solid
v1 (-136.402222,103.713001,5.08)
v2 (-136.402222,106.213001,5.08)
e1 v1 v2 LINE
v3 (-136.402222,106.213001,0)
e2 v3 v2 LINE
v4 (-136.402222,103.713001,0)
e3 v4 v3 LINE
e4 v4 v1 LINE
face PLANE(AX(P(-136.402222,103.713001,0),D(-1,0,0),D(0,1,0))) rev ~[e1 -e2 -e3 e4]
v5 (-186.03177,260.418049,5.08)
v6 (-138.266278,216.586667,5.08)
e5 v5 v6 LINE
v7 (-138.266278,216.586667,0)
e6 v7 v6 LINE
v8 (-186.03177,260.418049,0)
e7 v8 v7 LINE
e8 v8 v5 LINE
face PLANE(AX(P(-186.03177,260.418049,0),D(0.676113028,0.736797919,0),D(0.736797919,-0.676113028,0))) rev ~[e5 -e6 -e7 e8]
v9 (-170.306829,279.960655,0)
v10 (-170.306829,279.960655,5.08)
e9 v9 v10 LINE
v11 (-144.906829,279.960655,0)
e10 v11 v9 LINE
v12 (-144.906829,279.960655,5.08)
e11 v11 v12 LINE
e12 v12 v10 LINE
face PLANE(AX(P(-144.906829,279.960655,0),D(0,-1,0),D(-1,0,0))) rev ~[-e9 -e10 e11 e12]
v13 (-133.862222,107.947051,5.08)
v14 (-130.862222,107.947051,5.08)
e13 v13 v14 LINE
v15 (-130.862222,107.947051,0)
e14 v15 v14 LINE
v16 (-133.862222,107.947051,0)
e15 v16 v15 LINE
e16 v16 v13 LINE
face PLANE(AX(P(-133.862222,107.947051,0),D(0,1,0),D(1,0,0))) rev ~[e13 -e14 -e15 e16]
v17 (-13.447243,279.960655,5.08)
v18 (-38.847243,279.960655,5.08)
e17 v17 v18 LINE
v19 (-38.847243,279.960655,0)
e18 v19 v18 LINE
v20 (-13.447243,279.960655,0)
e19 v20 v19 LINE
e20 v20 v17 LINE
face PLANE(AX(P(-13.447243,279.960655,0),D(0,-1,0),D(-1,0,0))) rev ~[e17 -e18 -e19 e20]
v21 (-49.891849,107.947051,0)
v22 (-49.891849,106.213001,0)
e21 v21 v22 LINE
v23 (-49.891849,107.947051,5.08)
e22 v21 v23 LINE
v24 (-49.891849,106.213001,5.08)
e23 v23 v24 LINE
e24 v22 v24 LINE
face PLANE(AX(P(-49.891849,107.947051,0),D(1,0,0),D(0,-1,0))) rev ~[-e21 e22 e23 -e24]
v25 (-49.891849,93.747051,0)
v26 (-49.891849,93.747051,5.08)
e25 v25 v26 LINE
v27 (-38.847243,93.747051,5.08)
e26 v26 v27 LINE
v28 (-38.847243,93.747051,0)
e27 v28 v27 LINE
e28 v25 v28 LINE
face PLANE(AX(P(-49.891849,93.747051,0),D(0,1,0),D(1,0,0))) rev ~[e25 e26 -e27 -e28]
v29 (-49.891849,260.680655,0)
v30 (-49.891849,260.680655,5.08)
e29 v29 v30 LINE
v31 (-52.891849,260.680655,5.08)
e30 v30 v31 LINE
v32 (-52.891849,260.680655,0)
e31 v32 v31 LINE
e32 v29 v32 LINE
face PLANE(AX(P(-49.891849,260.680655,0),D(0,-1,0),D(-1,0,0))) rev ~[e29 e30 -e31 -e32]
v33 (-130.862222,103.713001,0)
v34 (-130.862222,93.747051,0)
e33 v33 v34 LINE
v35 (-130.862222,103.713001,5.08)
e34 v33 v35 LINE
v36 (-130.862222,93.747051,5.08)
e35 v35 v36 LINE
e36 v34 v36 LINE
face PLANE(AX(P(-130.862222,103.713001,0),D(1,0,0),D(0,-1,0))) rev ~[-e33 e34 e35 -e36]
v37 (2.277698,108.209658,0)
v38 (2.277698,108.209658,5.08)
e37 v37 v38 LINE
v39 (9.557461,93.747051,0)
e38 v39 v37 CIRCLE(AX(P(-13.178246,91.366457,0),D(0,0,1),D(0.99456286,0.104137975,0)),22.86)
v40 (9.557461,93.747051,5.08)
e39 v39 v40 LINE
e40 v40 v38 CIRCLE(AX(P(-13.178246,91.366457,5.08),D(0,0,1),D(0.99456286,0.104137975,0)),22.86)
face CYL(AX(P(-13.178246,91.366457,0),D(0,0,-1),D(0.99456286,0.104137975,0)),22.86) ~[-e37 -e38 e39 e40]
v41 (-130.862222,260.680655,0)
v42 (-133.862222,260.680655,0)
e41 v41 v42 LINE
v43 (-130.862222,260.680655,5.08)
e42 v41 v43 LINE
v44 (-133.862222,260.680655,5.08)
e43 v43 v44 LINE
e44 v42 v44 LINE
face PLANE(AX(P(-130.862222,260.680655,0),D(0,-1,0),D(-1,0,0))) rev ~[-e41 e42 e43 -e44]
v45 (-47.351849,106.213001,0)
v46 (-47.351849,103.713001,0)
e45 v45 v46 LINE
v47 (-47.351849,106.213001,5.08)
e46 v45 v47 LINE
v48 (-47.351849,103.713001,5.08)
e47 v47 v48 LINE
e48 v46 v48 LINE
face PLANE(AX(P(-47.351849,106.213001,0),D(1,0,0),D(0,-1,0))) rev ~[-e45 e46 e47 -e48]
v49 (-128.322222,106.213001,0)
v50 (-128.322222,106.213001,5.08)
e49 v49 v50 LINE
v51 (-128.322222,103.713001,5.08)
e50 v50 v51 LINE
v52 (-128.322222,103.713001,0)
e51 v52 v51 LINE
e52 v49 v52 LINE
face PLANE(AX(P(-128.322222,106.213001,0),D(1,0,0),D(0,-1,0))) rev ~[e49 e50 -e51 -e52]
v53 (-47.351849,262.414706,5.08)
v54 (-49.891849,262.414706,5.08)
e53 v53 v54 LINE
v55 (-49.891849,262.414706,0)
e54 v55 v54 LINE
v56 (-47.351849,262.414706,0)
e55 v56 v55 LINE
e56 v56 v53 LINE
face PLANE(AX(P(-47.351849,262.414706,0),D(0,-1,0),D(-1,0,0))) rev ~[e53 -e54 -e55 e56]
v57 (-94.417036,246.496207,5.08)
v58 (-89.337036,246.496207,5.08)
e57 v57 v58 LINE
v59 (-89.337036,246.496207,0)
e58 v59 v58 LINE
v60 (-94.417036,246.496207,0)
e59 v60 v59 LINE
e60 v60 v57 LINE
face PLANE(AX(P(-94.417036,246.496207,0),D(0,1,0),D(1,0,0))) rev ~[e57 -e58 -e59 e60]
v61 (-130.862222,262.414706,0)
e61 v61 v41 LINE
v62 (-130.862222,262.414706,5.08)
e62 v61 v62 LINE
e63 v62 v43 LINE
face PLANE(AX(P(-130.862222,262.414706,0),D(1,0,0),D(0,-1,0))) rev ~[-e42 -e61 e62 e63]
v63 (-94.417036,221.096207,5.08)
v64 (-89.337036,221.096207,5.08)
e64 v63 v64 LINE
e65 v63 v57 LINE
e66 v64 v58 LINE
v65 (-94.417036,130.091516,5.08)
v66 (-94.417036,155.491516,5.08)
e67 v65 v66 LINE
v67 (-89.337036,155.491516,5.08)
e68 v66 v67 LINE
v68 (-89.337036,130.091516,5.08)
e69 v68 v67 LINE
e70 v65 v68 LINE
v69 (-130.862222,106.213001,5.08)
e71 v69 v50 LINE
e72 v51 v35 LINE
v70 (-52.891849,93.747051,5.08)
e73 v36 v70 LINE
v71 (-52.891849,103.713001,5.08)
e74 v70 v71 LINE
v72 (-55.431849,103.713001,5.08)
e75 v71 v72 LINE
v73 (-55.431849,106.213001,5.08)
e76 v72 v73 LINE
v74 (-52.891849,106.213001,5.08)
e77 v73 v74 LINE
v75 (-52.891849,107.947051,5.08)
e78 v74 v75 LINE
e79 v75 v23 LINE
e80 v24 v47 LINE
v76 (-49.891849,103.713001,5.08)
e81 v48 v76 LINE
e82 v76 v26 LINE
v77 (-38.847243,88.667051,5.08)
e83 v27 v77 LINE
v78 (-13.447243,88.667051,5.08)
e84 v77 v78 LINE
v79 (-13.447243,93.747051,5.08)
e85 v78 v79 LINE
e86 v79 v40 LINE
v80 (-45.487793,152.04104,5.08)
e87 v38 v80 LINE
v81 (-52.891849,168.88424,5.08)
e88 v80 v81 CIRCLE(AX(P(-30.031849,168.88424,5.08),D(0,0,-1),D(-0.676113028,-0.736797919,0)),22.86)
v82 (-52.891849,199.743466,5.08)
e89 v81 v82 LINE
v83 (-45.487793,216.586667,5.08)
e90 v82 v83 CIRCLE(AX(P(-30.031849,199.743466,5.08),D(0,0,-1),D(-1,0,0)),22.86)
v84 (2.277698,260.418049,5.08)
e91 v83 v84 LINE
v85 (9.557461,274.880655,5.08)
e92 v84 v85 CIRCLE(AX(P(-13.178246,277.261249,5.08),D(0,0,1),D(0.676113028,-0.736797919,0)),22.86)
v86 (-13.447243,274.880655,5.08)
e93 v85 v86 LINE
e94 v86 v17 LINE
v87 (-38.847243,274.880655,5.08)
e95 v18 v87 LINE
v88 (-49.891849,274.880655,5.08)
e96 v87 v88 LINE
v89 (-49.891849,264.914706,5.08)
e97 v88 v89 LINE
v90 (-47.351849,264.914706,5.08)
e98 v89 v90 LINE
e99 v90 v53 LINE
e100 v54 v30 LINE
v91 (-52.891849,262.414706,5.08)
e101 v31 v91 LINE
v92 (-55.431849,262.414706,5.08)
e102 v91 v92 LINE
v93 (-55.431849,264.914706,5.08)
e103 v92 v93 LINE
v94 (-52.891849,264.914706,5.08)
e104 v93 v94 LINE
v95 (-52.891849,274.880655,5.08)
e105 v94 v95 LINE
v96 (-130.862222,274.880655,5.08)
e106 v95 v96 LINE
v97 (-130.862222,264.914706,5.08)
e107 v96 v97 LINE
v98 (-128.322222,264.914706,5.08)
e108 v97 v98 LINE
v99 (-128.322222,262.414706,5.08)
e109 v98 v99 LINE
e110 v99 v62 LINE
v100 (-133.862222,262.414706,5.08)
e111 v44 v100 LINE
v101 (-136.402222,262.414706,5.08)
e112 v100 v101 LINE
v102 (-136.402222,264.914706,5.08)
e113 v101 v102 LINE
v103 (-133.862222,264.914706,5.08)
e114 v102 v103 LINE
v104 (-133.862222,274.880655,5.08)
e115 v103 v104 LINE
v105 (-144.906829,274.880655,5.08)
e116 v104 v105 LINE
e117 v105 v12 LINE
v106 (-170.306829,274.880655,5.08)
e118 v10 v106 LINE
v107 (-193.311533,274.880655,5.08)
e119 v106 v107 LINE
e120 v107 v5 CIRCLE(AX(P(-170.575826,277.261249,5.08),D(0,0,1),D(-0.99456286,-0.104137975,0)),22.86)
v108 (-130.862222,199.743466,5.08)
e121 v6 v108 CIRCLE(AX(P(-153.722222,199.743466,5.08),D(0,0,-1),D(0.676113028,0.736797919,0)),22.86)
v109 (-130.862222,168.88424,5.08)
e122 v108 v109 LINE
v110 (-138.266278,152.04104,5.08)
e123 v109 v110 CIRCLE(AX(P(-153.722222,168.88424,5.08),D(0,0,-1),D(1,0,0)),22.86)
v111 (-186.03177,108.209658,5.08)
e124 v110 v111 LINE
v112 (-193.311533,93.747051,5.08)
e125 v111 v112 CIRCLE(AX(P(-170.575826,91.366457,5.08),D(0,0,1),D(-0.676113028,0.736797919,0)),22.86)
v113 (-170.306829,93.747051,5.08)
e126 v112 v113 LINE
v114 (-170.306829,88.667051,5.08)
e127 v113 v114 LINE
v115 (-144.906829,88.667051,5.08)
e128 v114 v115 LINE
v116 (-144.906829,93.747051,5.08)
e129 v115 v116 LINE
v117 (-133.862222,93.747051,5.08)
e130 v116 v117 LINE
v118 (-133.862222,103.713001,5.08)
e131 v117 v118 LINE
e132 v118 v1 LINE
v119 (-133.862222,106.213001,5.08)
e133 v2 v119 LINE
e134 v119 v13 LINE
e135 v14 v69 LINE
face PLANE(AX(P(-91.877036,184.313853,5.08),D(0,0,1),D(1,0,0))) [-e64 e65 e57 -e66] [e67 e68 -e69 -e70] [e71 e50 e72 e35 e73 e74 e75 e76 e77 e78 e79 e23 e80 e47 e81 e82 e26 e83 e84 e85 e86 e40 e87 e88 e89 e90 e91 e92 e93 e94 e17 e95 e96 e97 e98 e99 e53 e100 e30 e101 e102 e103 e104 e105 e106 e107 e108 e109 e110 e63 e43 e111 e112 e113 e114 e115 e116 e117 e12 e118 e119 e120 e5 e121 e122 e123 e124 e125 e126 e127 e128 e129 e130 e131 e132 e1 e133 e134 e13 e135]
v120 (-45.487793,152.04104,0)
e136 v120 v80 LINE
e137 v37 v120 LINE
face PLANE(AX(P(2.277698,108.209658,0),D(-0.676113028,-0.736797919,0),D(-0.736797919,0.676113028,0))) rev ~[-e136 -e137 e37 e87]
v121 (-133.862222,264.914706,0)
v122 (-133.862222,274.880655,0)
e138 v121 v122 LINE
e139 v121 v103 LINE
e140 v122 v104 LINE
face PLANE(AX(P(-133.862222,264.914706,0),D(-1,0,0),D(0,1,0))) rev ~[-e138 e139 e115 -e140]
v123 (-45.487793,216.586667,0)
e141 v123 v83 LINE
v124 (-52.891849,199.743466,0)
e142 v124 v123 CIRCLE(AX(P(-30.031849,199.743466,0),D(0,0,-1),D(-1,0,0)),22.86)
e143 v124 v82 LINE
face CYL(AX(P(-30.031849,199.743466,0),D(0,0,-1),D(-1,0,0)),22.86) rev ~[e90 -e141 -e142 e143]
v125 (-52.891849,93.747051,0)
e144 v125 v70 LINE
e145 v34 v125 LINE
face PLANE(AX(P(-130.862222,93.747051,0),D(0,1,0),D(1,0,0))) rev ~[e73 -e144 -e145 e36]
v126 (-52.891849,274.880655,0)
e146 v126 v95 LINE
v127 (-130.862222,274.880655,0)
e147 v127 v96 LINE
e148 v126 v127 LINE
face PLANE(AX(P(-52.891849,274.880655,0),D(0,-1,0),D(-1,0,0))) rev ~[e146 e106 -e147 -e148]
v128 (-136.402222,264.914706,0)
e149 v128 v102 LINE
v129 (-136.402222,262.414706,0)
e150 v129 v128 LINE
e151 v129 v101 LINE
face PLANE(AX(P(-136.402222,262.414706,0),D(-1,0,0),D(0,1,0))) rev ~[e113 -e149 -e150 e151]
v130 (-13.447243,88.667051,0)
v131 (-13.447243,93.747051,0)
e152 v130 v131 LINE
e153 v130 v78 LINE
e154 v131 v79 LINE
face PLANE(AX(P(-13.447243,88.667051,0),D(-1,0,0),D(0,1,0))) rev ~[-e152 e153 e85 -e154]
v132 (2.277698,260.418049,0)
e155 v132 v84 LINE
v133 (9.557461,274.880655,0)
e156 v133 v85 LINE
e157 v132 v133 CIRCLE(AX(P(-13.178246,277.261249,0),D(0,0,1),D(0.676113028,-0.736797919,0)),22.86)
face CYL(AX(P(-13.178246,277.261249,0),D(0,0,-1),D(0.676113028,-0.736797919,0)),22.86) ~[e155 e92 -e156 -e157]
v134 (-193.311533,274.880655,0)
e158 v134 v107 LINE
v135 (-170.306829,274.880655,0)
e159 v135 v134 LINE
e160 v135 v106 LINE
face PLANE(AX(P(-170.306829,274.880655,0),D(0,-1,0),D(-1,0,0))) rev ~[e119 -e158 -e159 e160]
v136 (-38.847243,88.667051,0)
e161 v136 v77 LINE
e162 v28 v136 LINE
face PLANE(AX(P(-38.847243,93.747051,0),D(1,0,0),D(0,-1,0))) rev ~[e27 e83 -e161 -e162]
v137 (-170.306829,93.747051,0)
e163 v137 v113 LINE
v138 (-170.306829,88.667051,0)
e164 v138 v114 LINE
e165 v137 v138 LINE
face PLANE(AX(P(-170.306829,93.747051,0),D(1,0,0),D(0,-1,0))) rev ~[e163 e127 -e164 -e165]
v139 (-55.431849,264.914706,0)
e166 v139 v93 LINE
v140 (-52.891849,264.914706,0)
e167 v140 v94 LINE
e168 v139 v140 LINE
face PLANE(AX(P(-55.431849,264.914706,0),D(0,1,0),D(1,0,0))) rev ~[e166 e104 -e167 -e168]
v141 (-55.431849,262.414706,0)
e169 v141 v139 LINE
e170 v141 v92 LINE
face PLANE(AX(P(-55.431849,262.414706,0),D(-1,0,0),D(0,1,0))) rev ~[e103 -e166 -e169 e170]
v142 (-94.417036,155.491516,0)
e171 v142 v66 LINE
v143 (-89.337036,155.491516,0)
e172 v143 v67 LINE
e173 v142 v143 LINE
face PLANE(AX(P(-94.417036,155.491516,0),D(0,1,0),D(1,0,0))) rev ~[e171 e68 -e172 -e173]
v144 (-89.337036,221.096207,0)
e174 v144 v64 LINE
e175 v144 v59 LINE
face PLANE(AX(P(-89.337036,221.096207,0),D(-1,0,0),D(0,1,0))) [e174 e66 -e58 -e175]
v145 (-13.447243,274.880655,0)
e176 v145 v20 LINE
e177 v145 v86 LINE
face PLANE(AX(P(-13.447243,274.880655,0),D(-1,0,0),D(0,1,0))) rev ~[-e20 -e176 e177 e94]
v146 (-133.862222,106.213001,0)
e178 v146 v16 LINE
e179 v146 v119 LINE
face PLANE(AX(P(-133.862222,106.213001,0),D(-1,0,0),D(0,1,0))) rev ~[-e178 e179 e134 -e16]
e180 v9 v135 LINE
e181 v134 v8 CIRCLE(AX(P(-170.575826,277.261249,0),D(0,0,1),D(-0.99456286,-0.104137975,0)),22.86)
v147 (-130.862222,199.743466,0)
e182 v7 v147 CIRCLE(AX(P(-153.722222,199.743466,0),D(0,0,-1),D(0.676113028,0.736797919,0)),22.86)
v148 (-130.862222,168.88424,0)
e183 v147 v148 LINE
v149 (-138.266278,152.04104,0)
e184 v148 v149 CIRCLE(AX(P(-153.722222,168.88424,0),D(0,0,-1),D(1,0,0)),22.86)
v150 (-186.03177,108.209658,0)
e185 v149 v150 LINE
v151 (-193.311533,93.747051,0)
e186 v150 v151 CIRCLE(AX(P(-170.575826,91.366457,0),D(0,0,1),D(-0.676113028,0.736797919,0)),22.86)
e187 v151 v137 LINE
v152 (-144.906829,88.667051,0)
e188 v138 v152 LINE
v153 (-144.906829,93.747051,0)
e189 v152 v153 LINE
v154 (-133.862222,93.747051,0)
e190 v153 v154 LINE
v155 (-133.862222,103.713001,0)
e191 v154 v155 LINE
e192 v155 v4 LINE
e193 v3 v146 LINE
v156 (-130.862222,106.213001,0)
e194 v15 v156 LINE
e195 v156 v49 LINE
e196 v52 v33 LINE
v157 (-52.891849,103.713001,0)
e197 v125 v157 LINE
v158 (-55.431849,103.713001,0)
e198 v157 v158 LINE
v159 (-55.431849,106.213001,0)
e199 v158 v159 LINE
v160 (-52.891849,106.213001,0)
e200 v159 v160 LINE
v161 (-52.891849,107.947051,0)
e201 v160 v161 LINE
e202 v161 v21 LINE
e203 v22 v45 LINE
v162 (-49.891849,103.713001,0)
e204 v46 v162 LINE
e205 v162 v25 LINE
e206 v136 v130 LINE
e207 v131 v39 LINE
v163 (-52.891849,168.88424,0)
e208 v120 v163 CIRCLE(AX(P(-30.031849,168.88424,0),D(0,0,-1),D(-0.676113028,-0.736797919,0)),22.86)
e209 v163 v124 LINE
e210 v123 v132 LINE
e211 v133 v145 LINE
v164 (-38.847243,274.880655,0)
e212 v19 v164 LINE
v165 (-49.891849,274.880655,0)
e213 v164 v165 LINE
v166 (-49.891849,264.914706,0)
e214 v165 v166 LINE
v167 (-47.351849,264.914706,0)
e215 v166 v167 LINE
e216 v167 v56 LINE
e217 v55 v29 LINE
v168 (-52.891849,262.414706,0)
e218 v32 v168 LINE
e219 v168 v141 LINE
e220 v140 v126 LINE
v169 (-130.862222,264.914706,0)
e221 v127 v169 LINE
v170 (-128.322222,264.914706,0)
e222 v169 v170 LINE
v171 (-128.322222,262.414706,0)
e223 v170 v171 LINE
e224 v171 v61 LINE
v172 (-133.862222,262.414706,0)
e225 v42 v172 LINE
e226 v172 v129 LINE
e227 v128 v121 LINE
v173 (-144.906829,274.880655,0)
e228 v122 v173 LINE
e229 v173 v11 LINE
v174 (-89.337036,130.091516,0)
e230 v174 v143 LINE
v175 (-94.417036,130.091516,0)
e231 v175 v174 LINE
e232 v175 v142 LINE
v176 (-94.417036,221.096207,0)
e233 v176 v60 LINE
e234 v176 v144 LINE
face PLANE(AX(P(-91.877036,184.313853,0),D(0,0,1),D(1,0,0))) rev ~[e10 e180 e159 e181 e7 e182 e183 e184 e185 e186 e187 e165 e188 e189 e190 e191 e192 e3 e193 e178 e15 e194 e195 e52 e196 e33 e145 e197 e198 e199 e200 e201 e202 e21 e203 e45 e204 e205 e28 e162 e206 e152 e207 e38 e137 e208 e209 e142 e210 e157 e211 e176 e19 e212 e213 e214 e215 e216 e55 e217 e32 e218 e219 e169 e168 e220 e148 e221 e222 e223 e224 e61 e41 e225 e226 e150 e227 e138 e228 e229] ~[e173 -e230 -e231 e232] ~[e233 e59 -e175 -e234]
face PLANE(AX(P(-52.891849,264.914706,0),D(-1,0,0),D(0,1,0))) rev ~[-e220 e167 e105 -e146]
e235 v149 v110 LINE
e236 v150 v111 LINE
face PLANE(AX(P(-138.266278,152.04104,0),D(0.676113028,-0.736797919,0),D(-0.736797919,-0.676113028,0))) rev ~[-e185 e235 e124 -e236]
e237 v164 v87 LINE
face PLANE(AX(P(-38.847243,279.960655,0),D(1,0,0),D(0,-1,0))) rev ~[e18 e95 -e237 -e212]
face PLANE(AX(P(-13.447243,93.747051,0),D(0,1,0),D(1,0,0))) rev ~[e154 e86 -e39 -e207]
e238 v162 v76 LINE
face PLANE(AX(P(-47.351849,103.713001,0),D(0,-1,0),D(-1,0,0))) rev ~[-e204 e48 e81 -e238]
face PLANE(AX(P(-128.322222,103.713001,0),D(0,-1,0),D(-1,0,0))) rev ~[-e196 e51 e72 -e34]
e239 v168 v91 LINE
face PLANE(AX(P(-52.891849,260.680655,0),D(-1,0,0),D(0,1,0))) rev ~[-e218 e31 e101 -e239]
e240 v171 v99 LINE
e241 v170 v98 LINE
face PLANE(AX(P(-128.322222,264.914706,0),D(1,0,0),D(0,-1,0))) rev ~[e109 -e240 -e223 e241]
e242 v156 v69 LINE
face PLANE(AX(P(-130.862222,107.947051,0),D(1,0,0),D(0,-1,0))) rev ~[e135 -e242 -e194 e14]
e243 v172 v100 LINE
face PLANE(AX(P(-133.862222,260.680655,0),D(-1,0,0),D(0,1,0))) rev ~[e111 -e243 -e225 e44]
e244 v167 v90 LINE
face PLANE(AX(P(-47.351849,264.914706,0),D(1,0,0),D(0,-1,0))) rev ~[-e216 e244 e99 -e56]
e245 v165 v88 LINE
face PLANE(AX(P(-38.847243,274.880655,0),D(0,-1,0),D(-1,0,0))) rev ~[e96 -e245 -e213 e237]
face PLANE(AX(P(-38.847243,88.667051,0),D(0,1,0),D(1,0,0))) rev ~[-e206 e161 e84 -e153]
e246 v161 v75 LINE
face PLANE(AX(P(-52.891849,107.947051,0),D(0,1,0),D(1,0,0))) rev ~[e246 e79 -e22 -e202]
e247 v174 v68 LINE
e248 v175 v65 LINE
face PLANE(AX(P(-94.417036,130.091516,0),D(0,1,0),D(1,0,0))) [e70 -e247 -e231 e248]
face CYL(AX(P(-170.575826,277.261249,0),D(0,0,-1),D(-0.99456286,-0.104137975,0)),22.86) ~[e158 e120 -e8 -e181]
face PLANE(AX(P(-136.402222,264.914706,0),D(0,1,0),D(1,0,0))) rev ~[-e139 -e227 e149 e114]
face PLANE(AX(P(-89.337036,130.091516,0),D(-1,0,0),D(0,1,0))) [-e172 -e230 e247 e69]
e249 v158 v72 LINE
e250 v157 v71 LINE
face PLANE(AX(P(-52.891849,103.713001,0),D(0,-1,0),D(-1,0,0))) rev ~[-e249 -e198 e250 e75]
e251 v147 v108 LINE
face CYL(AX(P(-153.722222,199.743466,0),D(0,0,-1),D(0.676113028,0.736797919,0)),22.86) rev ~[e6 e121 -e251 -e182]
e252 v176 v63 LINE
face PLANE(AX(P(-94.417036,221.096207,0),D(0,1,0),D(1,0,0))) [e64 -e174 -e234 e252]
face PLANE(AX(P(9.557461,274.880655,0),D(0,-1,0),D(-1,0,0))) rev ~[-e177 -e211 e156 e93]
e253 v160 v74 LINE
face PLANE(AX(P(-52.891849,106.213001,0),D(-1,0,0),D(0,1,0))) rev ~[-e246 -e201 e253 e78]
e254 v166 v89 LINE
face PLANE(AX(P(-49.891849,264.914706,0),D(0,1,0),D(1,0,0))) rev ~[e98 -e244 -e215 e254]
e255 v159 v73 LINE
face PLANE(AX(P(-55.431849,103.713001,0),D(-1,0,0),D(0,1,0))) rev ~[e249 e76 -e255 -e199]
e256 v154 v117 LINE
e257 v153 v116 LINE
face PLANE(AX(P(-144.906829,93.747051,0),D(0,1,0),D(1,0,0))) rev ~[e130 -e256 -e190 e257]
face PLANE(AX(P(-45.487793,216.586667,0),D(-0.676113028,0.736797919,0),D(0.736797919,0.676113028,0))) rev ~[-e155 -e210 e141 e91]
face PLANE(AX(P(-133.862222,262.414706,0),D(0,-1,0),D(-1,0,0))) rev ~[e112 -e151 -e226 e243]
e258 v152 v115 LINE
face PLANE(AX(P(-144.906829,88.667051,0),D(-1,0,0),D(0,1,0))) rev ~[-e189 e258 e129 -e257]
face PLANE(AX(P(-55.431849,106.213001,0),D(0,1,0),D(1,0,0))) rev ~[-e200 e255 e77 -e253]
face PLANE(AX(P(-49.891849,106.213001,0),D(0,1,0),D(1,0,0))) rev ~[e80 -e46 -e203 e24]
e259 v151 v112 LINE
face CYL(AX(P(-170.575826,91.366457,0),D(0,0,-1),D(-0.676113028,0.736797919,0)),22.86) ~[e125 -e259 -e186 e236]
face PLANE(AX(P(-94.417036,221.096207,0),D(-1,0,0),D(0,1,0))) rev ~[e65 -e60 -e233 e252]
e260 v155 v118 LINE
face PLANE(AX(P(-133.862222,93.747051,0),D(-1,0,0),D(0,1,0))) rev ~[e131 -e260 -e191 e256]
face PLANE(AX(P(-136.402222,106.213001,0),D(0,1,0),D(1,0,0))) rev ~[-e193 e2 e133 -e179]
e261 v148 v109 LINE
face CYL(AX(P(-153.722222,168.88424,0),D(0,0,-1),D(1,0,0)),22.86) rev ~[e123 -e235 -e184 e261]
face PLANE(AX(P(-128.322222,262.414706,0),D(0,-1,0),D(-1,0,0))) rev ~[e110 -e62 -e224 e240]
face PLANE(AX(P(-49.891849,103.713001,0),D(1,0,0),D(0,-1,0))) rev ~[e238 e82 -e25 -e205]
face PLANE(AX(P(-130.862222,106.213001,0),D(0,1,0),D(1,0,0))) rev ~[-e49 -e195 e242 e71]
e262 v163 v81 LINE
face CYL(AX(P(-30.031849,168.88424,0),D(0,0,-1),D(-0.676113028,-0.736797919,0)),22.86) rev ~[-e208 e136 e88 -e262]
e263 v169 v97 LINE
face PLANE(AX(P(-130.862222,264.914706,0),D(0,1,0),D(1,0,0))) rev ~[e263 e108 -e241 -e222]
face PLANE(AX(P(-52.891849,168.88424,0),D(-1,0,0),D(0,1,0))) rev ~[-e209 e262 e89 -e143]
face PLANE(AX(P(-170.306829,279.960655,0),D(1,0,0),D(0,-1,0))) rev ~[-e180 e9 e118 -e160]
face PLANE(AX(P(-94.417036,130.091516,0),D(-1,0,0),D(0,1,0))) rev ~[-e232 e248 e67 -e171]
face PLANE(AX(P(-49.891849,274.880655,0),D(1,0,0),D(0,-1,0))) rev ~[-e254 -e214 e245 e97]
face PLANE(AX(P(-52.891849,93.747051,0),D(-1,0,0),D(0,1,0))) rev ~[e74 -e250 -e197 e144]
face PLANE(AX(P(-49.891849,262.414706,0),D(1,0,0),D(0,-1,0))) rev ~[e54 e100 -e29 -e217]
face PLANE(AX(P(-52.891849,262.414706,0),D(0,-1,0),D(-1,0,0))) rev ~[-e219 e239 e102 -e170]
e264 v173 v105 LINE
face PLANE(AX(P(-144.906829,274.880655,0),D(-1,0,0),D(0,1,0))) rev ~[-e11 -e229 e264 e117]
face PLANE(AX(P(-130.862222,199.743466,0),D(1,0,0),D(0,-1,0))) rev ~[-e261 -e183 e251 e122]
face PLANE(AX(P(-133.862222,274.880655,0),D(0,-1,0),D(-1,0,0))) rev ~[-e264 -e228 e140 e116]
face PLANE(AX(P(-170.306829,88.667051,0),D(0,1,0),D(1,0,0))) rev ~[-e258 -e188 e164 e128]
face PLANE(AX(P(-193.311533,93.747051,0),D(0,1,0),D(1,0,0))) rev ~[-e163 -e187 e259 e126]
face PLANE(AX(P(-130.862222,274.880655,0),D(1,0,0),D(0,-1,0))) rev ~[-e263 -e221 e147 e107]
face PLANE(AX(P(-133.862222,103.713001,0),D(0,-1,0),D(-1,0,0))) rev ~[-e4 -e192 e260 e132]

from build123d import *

# Parameters (mm, degrees)
SKETCH1_W           = 5.08
SKETCH1_H           = 25.4
BOSS_EXTRUDE1_DEPTH = 5.08


with BuildPart() as part:
    # Sketch1 → Boss-Extrude1 (new body)
    with BuildSketch(Plane.XY):
        with BuildLine():
            Line((-13.447242614, 88.667051475), (-13.447242614, 93.747051475))
            Line((-13.447242614, 93.747051475), (9.557461427, 93.747051475))
            ThreePointArc((9.557461427, 93.747051475), (7.2409193, 101.644458486), (2.277698276, 108.209657797))
            Line((2.277698276, 108.209657797), (-45.487793081, 152.041039764))
            ThreePointArc((-45.487793081, 152.041039764), (-50.959133788, 159.684872704), (-52.891849255, 168.884240186))
            Line((-52.891849255, 168.884240186), (-52.891849255, 188.293861482))
            Line((-52.891849255, 188.293861482), (-52.891849255, 199.743466198))
            ThreePointArc((-52.891849255, 199.743466198), (-50.959133788, 208.94283368), (-45.487793081, 216.58666662))
            Line((-45.487793081, 216.58666662), (2.277698276, 260.418048586))
            ThreePointArc((2.277698276, 260.418048586), (7.2409193, 266.983247897), (9.557461427, 274.880654909))
            Line((9.557461427, 274.880654909), (-13.447242614, 274.880654909))
            Line((-13.447242614, 274.880654909), (-13.447242614, 279.960654909))
            Line((-13.447242614, 279.960654909), (-14.800406259, 279.960654909))
            Line((-14.800406259, 279.960654909), (-38.847242614, 279.960654909))
            Line((-38.847242614, 279.960654909), (-38.847242614, 274.880654909))
            Line((-38.847242614, 274.880654909), (-49.891849255, 274.880654909))
            Line((-49.891849255, 274.880654909), (-49.891849255, 264.914705614))
            Line((-49.891849255, 264.914705614), (-47.351849255, 264.914705614))
            Line((-47.351849255, 264.914705614), (-47.351849255, 262.414705614))
            Line((-47.351849255, 262.414705614), (-49.891849255, 262.414705614))
            Line((-49.891849255, 262.414705614), (-49.891849255, 260.680654909))
            Line((-49.891849255, 260.680654909), (-52.891849255, 260.680654909))
            Line((-52.891849255, 260.680654909), (-52.891849255, 262.414705614))
            Line((-52.891849255, 262.414705614), (-55.431849255, 262.414705614))
            Line((-55.431849255, 262.414705614), (-55.431849255, 264.914705614))
            Line((-55.431849255, 264.914705614), (-52.891849255, 264.914705614))
            Line((-52.891849255, 264.914705614), (-52.891849255, 274.880654909))
            Line((-52.891849255, 274.880654909), (-130.862222045, 274.880654909))
            Line((-130.862222045, 274.880654909), (-130.862222045, 264.914705614))
            Line((-130.862222045, 264.914705614), (-128.322222045, 264.914705614))
            Line((-128.322222045, 264.914705614), (-128.322222045, 262.414705614))
            Line((-128.322222045, 262.414705614), (-130.862222045, 262.414705614))
            Line((-130.862222045, 262.414705614), (-130.862222045, 260.680654909))
            Line((-130.862222045, 260.680654909), (-133.862222045, 260.680654909))
            Line((-133.862222045, 260.680654909), (-133.862222045, 262.414705614))
            Line((-133.862222045, 262.414705614), (-136.402222045, 262.414705614))
            Line((-136.402222045, 262.414705614), (-136.402222045, 264.914705614))
            Line((-136.402222045, 264.914705614), (-133.862222045, 264.914705614))
            Line((-133.862222045, 264.914705614), (-133.862222045, 274.880654909))
            Line((-133.862222045, 274.880654909), (-144.906828687, 274.880654909))
            Line((-144.906828687, 274.880654909), (-144.906828687, 279.960654909))
            Line((-144.906828687, 279.960654909), (-168.953665042, 279.960654909))
            Line((-168.953665042, 279.960654909), (-170.306828687, 279.960654909))
            Line((-170.306828687, 279.960654909), (-170.306828687, 274.880654909))
            Line((-170.306828687, 274.880654909), (-193.311532727, 274.880654909))
            ThreePointArc((-193.311532727, 274.880654909), (-190.9949906, 266.983247897), (-186.031769576, 260.418048586))
            Line((-186.031769576, 260.418048586), (-138.266278219, 216.58666662))
            ThreePointArc((-138.266278219, 216.58666662), (-132.794937512, 208.94283368), (-130.862222045, 199.743466198))
            Line((-130.862222045, 199.743466198), (-130.862222045, 188.293861482))
            Line((-130.862222045, 188.293861482), (-130.862222045, 168.884240186))
            ThreePointArc((-130.862222045, 168.884240186), (-132.794937512, 159.684872704), (-138.266278219, 152.041039764))
            Line((-138.266278219, 152.041039764), (-186.031769576, 108.209657797))
            ThreePointArc((-186.031769576, 108.209657797), (-190.9949906, 101.644458486), (-193.311532727, 93.747051475))
            Line((-193.311532727, 93.747051475), (-170.306828687, 93.747051475))
            Line((-170.306828687, 93.747051475), (-170.306828687, 88.667051475))
            Line((-170.306828687, 88.667051475), (-168.953665042, 88.667051475))
            Line((-168.953665042, 88.667051475), (-144.906828687, 88.667051475))
            Line((-144.906828687, 88.667051475), (-144.906828687, 93.747051475))
            Line((-144.906828687, 93.747051475), (-133.862222045, 93.747051475))
            Line((-133.862222045, 93.747051475), (-133.862222045, 103.713000769))
            Line((-133.862222045, 103.713000769), (-136.402222045, 103.713000769))
            Line((-136.402222045, 103.713000769), (-136.402222045, 106.213000769))
            Line((-136.402222045, 106.213000769), (-133.862222045, 106.213000769))
            Line((-133.862222045, 106.213000769), (-133.862222045, 107.947051475))
            Line((-133.862222045, 107.947051475), (-130.862222045, 107.947051475))
            Line((-130.862222045, 107.947051475), (-130.862222045, 106.213000769))
            Line((-130.862222045, 106.213000769), (-128.322222045, 106.213000769))
            Line((-128.322222045, 106.213000769), (-128.322222045, 103.713000769))
            Line((-128.322222045, 103.713000769), (-130.862222045, 103.713000769))
            Line((-130.862222045, 103.713000769), (-130.862222045, 93.747051475))
            Line((-130.862222045, 93.747051475), (-52.891849255, 93.747051475))
            Line((-52.891849255, 93.747051475), (-52.891849255, 103.713000769))
            Line((-52.891849255, 103.713000769), (-55.431849255, 103.713000769))
            Line((-55.431849255, 103.713000769), (-55.431849255, 106.213000769))
            Line((-55.431849255, 106.213000769), (-52.891849255, 106.213000769))
            Line((-52.891849255, 106.213000769), (-52.891849255, 107.947051475))
            Line((-52.891849255, 107.947051475), (-49.891849255, 107.947051475))
            Line((-49.891849255, 107.947051475), (-49.891849255, 106.213000769))
            Line((-49.891849255, 106.213000769), (-47.351849255, 106.213000769))
            Line((-47.351849255, 106.213000769), (-47.351849255, 103.713000769))
            Line((-47.351849255, 103.713000769), (-49.891849255, 103.713000769))
            Line((-49.891849255, 103.713000769), (-49.891849255, 93.747051475))
            Line((-49.891849255, 93.747051475), (-38.847242614, 93.747051475))
            Line((-38.847242614, 93.747051475), (-38.847242614, 88.667051475))
            Line((-38.847242614, 88.667051475), (-14.800406259, 88.667051475))
            Line((-14.800406259, 88.667051475), (-13.447242614, 88.667051475))
        make_face()
        with Locations((-91.87703565, 142.791515907)):
            Rectangle(SKETCH1_W, SKETCH1_H, mode=Mode.SUBTRACT)
        with Locations((-91.87703565, 233.796207057)):
            Rectangle(SKETCH1_W, SKETCH1_H, mode=Mode.SUBTRACT)
    extrude(amount=BOSS_EXTRUDE1_DEPTH)


solid = part.part
